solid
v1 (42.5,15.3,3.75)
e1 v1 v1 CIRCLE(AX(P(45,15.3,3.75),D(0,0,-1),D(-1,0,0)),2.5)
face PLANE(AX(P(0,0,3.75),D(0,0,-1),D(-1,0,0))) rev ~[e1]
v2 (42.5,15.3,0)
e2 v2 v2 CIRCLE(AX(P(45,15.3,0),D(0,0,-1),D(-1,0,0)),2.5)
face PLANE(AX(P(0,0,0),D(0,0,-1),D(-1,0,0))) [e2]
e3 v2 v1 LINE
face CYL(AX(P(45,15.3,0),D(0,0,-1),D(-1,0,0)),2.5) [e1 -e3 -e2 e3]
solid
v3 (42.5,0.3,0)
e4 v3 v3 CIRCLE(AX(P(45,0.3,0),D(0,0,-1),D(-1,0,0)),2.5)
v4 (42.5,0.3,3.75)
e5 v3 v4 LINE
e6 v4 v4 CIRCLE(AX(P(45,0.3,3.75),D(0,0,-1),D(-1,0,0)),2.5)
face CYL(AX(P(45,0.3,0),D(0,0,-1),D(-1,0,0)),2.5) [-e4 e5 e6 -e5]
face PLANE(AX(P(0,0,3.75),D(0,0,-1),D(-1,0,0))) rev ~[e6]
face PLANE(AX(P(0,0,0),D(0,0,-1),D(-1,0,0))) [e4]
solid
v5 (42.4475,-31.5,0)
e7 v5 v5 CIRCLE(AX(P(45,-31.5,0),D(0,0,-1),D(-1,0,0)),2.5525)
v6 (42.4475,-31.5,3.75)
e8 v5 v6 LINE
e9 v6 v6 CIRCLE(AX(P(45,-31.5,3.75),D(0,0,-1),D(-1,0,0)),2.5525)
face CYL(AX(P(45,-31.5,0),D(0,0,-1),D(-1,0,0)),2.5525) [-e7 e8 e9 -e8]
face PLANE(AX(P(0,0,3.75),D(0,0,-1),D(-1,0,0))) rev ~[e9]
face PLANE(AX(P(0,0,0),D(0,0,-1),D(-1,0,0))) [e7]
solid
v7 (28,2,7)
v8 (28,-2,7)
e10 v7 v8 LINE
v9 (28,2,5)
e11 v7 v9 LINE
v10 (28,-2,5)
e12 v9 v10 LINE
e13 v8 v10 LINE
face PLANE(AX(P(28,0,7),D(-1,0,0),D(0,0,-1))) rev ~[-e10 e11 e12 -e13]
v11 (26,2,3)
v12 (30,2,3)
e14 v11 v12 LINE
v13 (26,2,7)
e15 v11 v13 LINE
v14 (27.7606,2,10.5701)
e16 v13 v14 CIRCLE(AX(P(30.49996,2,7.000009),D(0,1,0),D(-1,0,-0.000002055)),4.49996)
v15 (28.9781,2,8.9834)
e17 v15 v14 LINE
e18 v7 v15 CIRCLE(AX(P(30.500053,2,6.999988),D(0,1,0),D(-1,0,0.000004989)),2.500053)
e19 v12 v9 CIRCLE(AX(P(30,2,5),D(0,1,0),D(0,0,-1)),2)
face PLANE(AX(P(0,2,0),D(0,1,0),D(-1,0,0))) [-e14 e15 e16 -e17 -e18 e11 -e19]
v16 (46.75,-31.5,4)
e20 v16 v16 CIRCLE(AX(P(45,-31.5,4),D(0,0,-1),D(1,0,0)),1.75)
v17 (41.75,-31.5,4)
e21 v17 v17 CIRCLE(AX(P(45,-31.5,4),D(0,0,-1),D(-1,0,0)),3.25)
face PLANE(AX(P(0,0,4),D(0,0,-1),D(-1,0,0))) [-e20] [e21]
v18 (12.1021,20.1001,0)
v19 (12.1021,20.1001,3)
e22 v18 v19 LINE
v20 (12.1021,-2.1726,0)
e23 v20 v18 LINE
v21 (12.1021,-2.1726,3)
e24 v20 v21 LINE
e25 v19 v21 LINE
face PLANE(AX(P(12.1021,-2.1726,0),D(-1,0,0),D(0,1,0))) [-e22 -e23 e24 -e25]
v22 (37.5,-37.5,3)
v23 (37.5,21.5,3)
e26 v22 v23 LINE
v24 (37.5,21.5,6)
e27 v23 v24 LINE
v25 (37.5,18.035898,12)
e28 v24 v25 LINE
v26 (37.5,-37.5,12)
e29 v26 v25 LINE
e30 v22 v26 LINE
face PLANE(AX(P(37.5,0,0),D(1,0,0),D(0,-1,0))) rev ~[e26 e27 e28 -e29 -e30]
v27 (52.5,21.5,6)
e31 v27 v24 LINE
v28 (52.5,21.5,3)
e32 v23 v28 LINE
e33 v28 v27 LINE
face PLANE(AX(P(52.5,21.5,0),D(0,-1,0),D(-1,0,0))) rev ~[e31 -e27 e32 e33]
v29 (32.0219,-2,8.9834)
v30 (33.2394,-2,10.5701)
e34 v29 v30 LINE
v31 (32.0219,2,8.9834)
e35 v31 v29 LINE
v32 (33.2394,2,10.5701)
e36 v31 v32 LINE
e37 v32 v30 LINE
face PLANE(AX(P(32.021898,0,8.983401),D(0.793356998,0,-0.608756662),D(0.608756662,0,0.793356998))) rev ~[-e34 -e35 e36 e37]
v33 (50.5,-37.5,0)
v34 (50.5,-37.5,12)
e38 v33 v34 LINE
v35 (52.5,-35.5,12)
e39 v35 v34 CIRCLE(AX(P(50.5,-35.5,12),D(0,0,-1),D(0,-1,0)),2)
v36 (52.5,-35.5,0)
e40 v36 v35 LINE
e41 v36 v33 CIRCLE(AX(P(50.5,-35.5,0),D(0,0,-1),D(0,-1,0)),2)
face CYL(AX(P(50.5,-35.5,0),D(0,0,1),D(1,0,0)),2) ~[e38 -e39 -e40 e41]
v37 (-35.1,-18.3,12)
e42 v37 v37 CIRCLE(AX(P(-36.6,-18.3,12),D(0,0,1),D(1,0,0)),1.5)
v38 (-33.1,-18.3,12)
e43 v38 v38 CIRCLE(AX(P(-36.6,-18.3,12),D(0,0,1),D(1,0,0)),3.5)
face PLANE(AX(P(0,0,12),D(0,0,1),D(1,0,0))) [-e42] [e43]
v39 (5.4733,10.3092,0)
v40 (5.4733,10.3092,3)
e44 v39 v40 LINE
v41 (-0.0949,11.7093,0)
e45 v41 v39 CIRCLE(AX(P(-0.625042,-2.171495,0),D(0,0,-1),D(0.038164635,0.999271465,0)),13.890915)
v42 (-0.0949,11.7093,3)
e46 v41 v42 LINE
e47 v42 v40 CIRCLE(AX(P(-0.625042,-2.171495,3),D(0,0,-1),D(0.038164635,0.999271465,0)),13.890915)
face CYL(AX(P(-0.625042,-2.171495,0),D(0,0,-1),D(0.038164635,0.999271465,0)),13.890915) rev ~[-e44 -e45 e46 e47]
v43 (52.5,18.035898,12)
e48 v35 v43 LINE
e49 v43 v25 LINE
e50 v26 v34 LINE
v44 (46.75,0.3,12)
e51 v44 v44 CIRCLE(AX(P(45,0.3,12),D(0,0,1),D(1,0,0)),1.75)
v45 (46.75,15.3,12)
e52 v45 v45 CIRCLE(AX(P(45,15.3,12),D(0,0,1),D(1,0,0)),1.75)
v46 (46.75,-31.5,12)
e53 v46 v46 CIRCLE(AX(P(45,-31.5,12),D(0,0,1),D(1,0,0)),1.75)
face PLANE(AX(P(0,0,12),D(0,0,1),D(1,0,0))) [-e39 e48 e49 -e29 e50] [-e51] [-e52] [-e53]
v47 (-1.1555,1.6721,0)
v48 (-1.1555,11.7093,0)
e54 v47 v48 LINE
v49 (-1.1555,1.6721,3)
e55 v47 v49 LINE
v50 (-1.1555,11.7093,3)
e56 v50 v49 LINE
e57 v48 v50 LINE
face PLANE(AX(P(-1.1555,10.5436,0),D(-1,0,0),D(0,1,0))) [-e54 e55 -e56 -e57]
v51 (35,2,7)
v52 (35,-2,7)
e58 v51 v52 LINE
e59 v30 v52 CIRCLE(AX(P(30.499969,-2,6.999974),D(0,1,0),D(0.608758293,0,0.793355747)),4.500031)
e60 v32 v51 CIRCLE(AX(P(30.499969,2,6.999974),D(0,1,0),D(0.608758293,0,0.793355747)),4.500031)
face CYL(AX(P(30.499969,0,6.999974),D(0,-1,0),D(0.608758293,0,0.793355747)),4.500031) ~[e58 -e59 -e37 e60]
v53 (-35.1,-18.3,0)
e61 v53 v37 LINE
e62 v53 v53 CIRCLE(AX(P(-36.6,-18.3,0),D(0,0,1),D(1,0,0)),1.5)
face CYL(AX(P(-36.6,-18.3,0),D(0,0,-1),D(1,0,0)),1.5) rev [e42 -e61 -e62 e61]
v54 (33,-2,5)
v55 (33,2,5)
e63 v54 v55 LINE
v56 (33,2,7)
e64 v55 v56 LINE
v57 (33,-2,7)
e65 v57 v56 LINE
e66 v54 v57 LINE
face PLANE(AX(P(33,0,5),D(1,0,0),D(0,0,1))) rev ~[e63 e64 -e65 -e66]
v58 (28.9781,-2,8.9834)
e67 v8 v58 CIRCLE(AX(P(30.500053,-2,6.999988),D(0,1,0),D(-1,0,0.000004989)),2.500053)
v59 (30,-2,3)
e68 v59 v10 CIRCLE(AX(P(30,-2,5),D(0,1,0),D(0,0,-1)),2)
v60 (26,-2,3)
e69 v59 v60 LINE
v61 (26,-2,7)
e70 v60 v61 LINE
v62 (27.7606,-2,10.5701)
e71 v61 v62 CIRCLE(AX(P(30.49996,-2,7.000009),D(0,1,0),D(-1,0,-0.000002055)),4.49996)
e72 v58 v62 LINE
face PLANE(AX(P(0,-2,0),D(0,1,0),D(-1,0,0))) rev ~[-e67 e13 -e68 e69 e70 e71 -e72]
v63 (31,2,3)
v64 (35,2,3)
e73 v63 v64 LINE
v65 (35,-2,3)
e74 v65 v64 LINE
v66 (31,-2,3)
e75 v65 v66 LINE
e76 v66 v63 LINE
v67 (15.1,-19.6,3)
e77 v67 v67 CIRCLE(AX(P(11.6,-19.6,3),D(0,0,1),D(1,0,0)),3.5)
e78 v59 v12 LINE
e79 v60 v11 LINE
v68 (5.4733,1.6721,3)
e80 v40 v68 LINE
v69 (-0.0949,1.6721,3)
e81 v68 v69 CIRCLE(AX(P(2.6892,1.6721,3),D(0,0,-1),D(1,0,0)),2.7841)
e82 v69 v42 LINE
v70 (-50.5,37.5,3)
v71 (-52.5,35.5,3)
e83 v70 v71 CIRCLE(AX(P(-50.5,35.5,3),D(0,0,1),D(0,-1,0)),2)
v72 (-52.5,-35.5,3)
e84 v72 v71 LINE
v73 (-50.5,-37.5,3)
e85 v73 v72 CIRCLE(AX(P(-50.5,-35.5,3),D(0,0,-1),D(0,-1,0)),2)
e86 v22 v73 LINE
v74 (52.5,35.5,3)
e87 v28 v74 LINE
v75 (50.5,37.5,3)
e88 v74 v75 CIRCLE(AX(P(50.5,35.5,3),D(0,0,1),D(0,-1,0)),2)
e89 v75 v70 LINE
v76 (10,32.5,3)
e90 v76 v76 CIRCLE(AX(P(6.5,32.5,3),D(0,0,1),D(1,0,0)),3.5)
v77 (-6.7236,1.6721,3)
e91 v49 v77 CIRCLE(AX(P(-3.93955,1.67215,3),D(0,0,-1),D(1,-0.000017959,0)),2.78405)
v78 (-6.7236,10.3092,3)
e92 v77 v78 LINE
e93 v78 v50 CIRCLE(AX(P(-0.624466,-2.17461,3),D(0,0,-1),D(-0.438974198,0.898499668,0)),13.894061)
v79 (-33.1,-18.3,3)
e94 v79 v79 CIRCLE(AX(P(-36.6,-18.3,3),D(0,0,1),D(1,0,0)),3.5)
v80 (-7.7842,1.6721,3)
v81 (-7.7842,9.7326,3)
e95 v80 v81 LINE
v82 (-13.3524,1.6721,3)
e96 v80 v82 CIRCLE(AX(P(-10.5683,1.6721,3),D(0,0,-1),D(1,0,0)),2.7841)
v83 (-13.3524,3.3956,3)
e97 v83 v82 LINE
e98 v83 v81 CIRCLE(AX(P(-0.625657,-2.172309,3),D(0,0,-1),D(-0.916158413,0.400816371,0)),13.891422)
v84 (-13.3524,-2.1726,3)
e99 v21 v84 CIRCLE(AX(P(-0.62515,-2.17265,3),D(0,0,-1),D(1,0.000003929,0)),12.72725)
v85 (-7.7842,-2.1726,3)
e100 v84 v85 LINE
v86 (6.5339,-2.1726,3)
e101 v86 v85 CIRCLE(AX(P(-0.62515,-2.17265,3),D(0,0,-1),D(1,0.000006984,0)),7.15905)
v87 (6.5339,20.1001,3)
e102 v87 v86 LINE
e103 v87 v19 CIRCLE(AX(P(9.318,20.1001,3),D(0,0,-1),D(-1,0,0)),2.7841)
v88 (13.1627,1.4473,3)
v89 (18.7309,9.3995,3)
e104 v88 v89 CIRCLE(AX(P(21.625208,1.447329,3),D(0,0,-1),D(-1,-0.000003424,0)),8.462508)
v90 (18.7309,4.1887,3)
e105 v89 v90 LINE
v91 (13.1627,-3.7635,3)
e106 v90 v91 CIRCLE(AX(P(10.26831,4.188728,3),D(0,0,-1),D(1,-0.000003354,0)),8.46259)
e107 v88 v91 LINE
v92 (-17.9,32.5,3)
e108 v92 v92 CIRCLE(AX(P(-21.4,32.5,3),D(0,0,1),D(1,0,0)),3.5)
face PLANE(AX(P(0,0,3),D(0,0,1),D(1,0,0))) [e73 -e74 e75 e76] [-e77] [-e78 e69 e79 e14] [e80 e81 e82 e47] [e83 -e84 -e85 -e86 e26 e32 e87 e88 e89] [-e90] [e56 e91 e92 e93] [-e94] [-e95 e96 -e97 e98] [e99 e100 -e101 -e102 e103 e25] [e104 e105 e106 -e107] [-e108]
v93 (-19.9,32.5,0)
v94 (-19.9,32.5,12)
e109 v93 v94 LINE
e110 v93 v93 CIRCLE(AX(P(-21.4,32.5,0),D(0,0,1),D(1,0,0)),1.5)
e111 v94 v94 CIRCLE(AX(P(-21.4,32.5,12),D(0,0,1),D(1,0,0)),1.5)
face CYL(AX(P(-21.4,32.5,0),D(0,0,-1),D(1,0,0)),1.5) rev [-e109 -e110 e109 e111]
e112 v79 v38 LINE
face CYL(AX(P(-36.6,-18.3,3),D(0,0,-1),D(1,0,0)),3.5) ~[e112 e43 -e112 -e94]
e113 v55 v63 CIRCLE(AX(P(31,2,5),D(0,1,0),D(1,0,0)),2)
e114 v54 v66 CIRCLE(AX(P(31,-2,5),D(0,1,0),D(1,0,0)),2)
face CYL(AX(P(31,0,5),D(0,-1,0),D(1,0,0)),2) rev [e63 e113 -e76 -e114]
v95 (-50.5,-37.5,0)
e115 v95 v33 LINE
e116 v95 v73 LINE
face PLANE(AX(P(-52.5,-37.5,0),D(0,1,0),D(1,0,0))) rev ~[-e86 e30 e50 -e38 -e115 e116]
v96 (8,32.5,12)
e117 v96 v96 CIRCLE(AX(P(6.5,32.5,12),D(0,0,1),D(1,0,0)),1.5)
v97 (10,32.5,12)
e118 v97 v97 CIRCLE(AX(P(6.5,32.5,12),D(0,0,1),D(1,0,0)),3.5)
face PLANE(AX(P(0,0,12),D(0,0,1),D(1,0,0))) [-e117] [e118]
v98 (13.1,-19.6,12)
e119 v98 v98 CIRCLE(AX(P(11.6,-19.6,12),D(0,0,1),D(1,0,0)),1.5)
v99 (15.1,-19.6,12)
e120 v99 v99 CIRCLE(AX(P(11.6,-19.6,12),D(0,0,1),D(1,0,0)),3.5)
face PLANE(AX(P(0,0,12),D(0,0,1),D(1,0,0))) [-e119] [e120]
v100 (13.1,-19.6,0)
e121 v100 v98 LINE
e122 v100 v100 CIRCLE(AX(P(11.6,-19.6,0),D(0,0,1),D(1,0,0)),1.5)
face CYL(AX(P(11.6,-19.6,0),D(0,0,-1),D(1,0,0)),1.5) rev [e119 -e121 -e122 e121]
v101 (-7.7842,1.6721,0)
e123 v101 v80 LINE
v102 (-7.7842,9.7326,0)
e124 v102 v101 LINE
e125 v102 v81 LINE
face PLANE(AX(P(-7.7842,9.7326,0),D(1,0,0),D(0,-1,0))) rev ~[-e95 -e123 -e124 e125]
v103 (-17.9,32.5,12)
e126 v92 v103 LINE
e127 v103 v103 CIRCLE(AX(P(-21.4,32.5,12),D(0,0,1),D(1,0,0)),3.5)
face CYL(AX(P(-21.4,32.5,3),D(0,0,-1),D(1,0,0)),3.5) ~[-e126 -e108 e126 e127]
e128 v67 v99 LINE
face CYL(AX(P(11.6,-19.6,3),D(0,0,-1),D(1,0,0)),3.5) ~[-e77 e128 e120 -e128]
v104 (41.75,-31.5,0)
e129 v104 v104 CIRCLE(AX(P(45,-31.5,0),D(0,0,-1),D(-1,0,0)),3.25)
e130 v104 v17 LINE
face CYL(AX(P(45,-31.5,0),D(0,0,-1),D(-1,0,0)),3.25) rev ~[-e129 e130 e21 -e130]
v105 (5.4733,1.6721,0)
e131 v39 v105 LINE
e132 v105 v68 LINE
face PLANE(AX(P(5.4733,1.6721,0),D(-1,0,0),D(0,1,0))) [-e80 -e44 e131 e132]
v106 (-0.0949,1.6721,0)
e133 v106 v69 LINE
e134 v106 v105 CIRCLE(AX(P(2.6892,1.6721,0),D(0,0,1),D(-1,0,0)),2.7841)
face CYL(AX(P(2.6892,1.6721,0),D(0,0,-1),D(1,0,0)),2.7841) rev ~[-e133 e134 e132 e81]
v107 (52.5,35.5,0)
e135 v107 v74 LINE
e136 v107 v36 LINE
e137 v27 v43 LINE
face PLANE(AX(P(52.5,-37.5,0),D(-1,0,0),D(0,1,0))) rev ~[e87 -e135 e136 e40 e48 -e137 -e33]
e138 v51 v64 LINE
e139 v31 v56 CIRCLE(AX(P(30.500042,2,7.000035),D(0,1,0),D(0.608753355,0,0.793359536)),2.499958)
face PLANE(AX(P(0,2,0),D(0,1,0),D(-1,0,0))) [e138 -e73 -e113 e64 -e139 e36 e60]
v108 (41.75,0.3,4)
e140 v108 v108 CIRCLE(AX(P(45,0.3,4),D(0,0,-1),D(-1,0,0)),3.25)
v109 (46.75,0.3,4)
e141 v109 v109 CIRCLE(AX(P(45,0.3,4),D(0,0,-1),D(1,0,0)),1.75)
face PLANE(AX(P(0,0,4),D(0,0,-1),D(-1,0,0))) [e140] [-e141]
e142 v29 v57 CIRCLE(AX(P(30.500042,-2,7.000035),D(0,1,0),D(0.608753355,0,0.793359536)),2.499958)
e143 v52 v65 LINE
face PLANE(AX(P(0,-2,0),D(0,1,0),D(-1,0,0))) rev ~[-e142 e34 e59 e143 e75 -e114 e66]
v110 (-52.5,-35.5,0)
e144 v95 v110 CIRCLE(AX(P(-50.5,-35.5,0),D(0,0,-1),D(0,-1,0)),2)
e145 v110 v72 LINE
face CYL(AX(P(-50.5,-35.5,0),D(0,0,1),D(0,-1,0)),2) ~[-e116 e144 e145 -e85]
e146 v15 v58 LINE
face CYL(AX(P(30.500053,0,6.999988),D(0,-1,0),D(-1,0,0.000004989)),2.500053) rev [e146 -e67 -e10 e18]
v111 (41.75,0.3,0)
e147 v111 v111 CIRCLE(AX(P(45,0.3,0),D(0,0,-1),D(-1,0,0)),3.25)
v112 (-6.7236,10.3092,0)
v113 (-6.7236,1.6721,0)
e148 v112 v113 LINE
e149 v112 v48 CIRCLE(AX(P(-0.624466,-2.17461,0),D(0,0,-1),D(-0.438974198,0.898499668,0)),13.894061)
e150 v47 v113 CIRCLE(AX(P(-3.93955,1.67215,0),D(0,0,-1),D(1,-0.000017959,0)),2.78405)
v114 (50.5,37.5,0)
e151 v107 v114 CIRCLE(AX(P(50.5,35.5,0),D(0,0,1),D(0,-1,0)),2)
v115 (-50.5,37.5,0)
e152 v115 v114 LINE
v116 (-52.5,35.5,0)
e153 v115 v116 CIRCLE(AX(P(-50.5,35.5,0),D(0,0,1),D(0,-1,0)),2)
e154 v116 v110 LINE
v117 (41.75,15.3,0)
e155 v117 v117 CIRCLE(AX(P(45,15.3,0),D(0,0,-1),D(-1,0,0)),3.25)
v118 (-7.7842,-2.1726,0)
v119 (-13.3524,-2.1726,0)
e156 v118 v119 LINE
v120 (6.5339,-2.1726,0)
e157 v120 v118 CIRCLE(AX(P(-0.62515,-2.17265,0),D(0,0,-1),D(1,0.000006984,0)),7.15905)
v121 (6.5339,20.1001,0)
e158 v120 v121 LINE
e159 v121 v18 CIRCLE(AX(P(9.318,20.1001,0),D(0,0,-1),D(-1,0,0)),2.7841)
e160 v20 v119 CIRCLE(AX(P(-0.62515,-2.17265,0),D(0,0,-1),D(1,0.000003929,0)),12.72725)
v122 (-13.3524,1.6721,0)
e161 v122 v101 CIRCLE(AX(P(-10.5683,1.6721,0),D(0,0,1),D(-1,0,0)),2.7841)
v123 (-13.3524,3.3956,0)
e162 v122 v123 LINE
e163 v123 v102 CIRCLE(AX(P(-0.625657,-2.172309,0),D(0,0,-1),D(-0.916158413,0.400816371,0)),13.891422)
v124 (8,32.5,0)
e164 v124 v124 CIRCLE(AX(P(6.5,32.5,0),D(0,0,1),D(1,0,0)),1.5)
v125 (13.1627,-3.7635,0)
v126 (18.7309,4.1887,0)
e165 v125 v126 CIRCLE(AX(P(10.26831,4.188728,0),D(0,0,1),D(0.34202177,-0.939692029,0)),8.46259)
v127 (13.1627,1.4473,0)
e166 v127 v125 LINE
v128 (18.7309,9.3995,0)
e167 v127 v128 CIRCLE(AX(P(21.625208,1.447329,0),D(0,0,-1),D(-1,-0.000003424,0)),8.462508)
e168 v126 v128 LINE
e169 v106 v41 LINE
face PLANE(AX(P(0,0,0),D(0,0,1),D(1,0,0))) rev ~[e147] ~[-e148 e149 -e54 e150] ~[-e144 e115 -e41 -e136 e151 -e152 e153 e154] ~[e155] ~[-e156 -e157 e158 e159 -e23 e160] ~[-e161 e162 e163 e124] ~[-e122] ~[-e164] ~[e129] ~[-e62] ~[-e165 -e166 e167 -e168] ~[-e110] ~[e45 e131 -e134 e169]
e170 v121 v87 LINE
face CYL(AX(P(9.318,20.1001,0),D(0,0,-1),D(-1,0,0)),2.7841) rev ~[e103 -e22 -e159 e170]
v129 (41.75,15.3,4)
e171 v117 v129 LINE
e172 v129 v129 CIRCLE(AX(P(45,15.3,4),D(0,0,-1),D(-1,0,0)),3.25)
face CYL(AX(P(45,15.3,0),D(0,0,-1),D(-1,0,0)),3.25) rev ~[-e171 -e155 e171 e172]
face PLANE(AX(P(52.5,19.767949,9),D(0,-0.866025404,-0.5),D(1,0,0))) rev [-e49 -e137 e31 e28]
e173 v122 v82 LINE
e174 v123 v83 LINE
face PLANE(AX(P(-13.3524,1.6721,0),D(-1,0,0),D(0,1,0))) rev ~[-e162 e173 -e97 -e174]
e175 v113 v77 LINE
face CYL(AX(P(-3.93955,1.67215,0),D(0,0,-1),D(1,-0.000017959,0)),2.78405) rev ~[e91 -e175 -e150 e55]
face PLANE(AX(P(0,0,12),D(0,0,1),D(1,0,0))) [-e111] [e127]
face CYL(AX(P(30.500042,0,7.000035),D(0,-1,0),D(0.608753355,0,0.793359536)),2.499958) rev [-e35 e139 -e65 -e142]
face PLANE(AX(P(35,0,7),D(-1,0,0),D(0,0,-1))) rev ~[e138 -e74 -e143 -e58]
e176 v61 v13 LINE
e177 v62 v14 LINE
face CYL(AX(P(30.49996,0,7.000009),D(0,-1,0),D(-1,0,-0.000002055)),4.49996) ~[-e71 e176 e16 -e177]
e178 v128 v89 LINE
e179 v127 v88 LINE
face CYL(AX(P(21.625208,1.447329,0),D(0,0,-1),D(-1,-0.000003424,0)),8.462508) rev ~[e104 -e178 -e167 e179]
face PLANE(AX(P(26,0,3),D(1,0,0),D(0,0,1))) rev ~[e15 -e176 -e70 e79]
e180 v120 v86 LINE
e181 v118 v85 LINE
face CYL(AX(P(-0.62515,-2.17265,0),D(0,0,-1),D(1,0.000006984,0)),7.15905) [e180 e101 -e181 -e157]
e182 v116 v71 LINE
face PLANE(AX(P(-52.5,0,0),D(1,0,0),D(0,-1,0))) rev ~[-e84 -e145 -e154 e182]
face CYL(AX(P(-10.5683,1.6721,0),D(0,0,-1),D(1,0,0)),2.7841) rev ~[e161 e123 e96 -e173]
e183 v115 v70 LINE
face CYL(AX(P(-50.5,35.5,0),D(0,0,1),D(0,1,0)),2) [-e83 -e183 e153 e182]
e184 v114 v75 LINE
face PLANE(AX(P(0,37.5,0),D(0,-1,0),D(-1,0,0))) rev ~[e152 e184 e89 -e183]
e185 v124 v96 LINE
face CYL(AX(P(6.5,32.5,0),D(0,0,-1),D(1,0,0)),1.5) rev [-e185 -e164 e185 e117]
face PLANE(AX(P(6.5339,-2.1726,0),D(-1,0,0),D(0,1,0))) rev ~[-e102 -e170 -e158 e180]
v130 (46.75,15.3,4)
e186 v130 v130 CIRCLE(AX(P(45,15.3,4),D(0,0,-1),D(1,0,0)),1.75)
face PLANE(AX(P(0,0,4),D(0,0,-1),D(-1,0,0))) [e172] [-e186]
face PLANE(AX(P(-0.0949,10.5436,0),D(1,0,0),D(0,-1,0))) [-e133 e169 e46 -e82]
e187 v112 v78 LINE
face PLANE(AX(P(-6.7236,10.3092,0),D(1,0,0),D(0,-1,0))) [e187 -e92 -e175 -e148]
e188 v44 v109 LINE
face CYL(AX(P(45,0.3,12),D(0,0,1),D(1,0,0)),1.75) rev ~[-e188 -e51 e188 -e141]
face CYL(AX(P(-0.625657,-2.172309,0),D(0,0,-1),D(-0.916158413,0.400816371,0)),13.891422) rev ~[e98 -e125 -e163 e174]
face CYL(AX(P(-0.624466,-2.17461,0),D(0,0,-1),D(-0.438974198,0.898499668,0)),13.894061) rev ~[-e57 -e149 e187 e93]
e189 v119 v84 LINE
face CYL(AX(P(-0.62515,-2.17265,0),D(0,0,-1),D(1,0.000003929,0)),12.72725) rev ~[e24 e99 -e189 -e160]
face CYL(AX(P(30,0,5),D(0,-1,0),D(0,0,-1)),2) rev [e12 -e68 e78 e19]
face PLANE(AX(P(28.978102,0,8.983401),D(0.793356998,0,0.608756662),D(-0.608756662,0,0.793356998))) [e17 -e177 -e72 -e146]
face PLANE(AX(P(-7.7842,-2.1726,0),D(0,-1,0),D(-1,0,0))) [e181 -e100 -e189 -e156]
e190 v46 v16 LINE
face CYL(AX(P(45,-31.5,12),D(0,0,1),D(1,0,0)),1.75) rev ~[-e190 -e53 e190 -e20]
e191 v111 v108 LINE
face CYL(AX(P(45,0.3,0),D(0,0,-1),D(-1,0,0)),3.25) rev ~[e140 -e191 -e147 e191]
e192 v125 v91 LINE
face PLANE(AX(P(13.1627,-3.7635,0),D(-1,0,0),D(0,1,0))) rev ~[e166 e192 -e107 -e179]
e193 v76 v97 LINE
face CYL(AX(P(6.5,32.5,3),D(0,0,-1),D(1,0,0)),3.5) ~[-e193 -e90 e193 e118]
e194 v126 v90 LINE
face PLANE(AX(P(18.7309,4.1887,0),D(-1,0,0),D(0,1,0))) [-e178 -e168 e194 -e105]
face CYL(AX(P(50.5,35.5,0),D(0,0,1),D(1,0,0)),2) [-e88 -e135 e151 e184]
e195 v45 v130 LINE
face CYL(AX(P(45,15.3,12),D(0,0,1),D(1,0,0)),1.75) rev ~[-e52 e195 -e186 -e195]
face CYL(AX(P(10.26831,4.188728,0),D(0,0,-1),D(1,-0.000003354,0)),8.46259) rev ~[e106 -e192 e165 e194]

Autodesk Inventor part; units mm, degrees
ref_plane "YZ Plane" through (0, 0, 0) normal (1, 0, 0) x (0, 1, 0)
ref_plane "XZ Plane" through (0, 0, 0) normal (0, 1, 0) x (-1, 0, 0)
ref_plane "XY Plane" through (0, 0, 0) normal (0, 0, 1) x (1, 0, 0)
sketch "sk_baseplate" plane through (0, 0, 0) normal (0, 0, 1) x (1, 0, 0)
  line L0 (0, -52.5) -> (0, 52.5) projected
  line L1 (-73.5, 0) -> (73.5, 0) projected
  line L2 (-52.5, -37.5) -> (52.5, -37.5)
  line L3 (52.5, -37.5) -> (52.5, 37.5)
  line L4 (52.5, 37.5) -> (-52.5, 37.5)
  line L5 (-52.5, 37.5) -> (-52.5, -37.5)
  line L6 (-52.5, -37.5) -> (52.5, 37.5) construction
  line L7 (52.5, -37.5) -> (-52.5, 37.5) construction
  line L8 (-12.5, 37.5) -> (-12.5, -37.5) construction
  line L9 (45, 37.5) -> (45, -37.5) construction
  line L10 (-36.6, -19.6) -> (11.6, -19.6) construction
  line L11 (11.6, -19.6) -> (11.6, 32.5) construction
  line L12 (11.6, 32.5) -> (6.5, 32.5) construction
  line L13 (6.5, 32.5) -> (-21.4, 32.5) construction
  line L14 (-21.4, 32.5) -> (-36.6, 32.5) construction
  line L15 (-36.6, 32.5) -> (-36.6, -19.6) construction
  circle A0 centre (11.6, -19.6) radius 1.5
  circle A1 centre (6.5, 32.5) radius 1.5
  circle A2 centre (-21.4, 32.5) radius 1.5
  line L16 (11.6, -18.3) -> (-36.6, -18.3) construction
  circle A3 centre (-36.6, -18.3) radius 1.5
  line L17 (37.5, -37.5) -> (52.5, -37.5)
  line L18 (52.5, -37.5) -> (52.5, 21.5)
  line L19 (52.5, 21.5) -> (37.5, 21.5)
  line L20 (37.5, 21.5) -> (37.5, -37.5)
  line L21 (37.5, -37.5) -> (52.5, 21.5) construction
  line L22 (52.5, -37.5) -> (37.5, 21.5) construction
  line L23 (27.5, -37.5) -> (27.5, 37.5) construction
  point P0 (0, 0)
  point P1 (-12.5, -19.6)
  point P2 (45, -8)
  dimension "d0" = 105
  dimension "d1" = 75
  dimension "d2" = 40
  dimension "d3" = 7.5
  dimension "d4" = 48.2
  dimension "d5" = 1.3
  dimension "d6" = 50.8
  dimension "d7" = 3
  dimension "d8" = 5
  dimension "d9" = 5.1
  dimension "d10" = 27.9
  dimension "d11" = 15
  dimension "d12" = 40
  dimension "d13" = 59
extrude "ext_base" add sketch "sk_baseplate" along normal blind 3
extrude "ext_fingerholder" add sketch "sk_baseplate" along normal blind 12 contours L20 L1 L3 L2 | L20 L19 L3 L1
chamfer "Chamfer1" distance 6 angle 30 1 edges at (45, 21.5, 12) measured on face at (42.5, 21.5, 6)
sketch "Sketch2" plane through (0, 0, 3) normal (0, 0, 1) x (1, 0, 0)
  circle A0 centre (-36.6, -18.3) radius 1.5 projected
  circle A1 centre (-21.4, 32.5) radius 1.5 projected
  circle A2 centre (6.5, 32.5) radius 1.5 projected
  circle A3 centre (11.6, -19.6) radius 1.5 projected
  circle A4 centre (-21.4, 32.5) radius 3.5
  circle A5 centre (6.5, 32.5) radius 3.5
  circle A6 centre (11.6, -19.6) radius 3.5
  circle A7 centre (-36.6, -18.3) radius 3.5
  point P0 (0, 0)
  dimension "d21" = 2
extrude "ext_pegs" add sketch "Sketch2" along normal blind 9
sketch "Sketch3" plane through (0, 0, 12) normal (0, 0, 1) x (1, 0, 0)
  line L0 (37.5, 18.0359) -> (52.5, 18.0359) projected
  line L1 (37.5, -37.5) -> (52.5, -37.5) projected
  line L2 (45, -37.5) -> (45, 18.0359) construction
  circle A0 centre (45, -31.5) radius 1.75
  circle A1 centre (45, 0.3) radius 1.75
  circle A2 centre (45, 15.3) radius 1.75
  point P0 (0, 0)
  dimension "d24" = 3.5
  dimension "d25" = 6
  dimension "d26" = 31.8
  dimension "d27" = 15
extrude "ext_mountholes" cut sketch "Sketch3" against normal through all
sketch "Sketch4" plane through (0, 0, 0) normal (0, 0, -1) x (-1, 0, 0)
  line L0 (0, -12.75) -> (0, 20.5)
  line L1 (-27.7979, -2.1726) -> (15.0178, -2.1726)
  circle A0 centre (0.6252, -2.1726) radius 7.1591 construction
  circle A1 centre (0.6252, -2.1726) radius 12.7273 construction
  line L2 (-12.1021, -2.1726) -> (-12.1021, 20.1001)
  line L3 (-6.5339, -2.1726) -> (-6.5339, 20.1001)
  arc A2 (-6.5339, 20.1001) -> (-12.1021, 20.1001) centre (-9.318, 20.1001) ccw
  line L4 (0.6252, -2.1726) -> (13.3524, -2.1726) construction
  arc A3 (-6.5339, -2.1726) -> (7.7842, -2.1726) centre (0.6252, -2.1726) ccw
  arc A4 (-12.1021, -2.1726) -> (13.3524, -2.1726) centre (0.6252, -2.1726) ccw
  line L5 (7.7842, -2.1726) -> (13.3524, -2.1726)
  line L6 (-4.4628, -13.8648) -> (-22.6731, -7.2369) construction
  line L7 (-13.1627, -3.7635) -> (-13.1627, 7.3728) construction
  line L8 (-13.1627, 7.3728) -> (-18.7309, 9.3995) construction
  line L9 (-18.7309, 9.3995) -> (-18.7309, -1.7369) construction
  line L10 (-18.7309, -1.7369) -> (-13.1627, -3.7635) construction
  arc A5 (-18.7309, 4.1887) -> (-13.1627, -3.7635) centre (-10.2684, 4.1887) ccw
  arc A6 (-13.1627, 1.4473) -> (-18.7309, 9.3995) centre (-21.6253, 1.4473) ccw
  line L11 (-18.7309, 4.1887) -> (-18.7309, 9.3995)
  line L12 (-13.1627, -3.7635) -> (-13.1627, 1.4473)
  line L13 (13.3524, 11.7194) -> (-6.5339, 11.7194) construction
  line L14 (-5.4733, 11.7194) -> (0.0949, 11.7194)
  line L15 (0.0949, 11.7194) -> (0.0949, -1.112)
  line L16 (0.0949, -1.112) -> (-5.4733, -1.112)
  line L17 (-5.4733, -1.112) -> (-5.4733, 11.7194)
  line L18 (1.1555, 11.7194) -> (6.7236, 11.7194)
  line L19 (6.7236, 11.7194) -> (6.7236, -1.112)
  line L20 (6.7236, -1.112) -> (1.1555, -1.112)
  line L21 (1.1555, -1.112) -> (1.1555, 11.7194)
  line L22 (13.3524, 11.7194) -> (7.7842, 11.7194)
  line L23 (7.7842, 11.7194) -> (7.7842, -1.112)
  line L24 (7.7842, -1.112) -> (13.3524, -1.112)
  line L25 (13.3524, -1.112) -> (13.3524, 11.7194)
  line L26 (7.7842, 5.3037) -> (6.7236, 5.3037) construction
  line L27 (1.1555, 5.3037) -> (0.0949, 5.3037) construction
  line L28 (-5.4733, 5.3037) -> (-6.5339, 5.3037) construction
  arc A7 (6.7236, 8.9984) -> (1.1555, 10.5436) centre (0.6252, -2.1726) ccw
  arc A8 (0.0949, 10.5436) -> (-5.4733, 8.9984) centre (0.6252, -2.1726) ccw
  line L29 (-13.1627, 7.3728) -> (-12.1021, 7.3728) construction
  line L30 (7.5616, -1.112) -> (7.5616, -2.1726) construction
  arc A9 (0.0949, 11.7093) -> (-5.4733, 10.3092) centre (0.6252, -2.1726) ccw
  arc A10 (6.7236, 10.3092) -> (1.1555, 11.7093) centre (0.6252, -2.1726) ccw
  arc A11 (13.3524, 3.3956) -> (7.7842, 9.7326) centre (0.6252, -2.1726) ccw
  arc A12 (13.3524, 3.3956) -> (-6.5339, 9.7326) centre (0.6252, -2.1726) ccw construction
  arc A13 (-5.4733, 1.6721) -> (0.0949, 1.6721) centre (-2.6892, 1.6721) ccw
  arc A14 (1.1555, 1.6721) -> (6.7236, 1.6721) centre (3.9395, 1.6721) ccw
  arc A15 (7.7842, 1.6721) -> (13.3524, 1.6721) centre (10.5683, 1.6721) ccw
  line L31 (0.6252, -14.8999) -> (13.3524, -14.8999) construction
  point P0 (0, 0)
  point P1 (13.3082, -1.112)
  point P2 (7.7842, 8.3502)
  dimension "d30" = 14.3182
  dimension "d31" = 5.5682
  dimension "d32" = 22.2727
  dimension "d33" = 0
  dimension "d34" = 5.5682
  dimension "d35" = 11.1364
  dimension "d36" = 1.5909
  dimension "d37" = 160
  dimension "d38" = 5.5682
  dimension "d39" = 1.0606
  dimension "d40" = 5.5682
  dimension "d41" = 32.0833
  dimension "d42" = 35
extrude "ext_logo" cut sketch "Sketch4" against normal through all contours A3 L1 A4 | L12 A5 L1 | L1 A5 L11 A6 L12 | L1 L2 A2 L3 | A13 L17 A8 L0 | L0 A8 L15 A13 | A8 L17 A9 L0 | L0 A9 L15 A8 | A10 L19 A7 L21 | A7 L19 A14 L21 | L25 A15 L23 A11
sketch "Sketch5" plane through (0, 0, 0) normal (0, 0, -1) x (-1, 0, 0)
  circle A0 centre (-45, 0.3) radius 1.75 projected
  circle A1 centre (-45, 15.3) radius 1.75 projected
  circle A2 centre (-45, -31.5) radius 1.75 projected
  circle A3 centre (-45, 15.3) radius 3.25
  circle A4 centre (-45, 0.3) radius 3.25
  circle A5 centre (-45, -31.5) radius 3.25
  point P0 (0, 0)
  dimension "d45" = 6.5
extrude "Extrusion6" cut sketch "Sketch5" against normal blind 4
fillet "Fillet1" radius 2 4 edges at (-52.5, -37.5, 1.5) (-52.5, 37.5, 1.5) (52.5, -37.5, 6) (52.5, 37.5, 1.5)
sketch "Sketch6" plane through (0, 0, 0) normal (0, 1, 0) x (-1, 0, 0)
  line L0 (50.5, 0) -> (-50.5, 0) projected
  line L1 (-50.5, 3) -> (-52.5, 3) projected
  line L2 (-50.5, 3) -> (50.5, 3) projected
  line L3 (52.5, 3) -> (50.5, 3) projected
  line L4 (50.5, 3) -> (52.5, 3) projected
  line L5 (50.5, 3) -> (-37.5, 3) projected
  line L6 (-37.5, 3) -> (-52.5, 3) projected
  line L7 (-18.7309, 3) -> (-13.1627, 3) projected
  line L8 (-13.1627, 3) -> (-18.7309, 3) projected
  line L9 (6.7236, 3) -> (1.1555, 3) projected
  line L10 (1.1555, 3) -> (6.7236, 3) projected
  line L11 (-5.4733, 3) -> (0.0949, 3) projected
  line L12 (0.0949, 3) -> (-5.4733, 3) projected
  line L13 (-6.5339, 3) -> (-12.1021, 3) projected
  line L14 (-12.1021, 3) -> (13.3524, 3) projected
  line L15 (13.3524, 3) -> (7.7842, 3) projected
  line L16 (7.7842, 3) -> (-6.5339, 3) projected
  line L17 (13.3524, 3) -> (7.7842, 3) projected
  line L18 (7.7842, 3) -> (13.3524, 3) projected
  line L19 (-15.1, 3) -> (-8.1, 3) projected
  line L20 (17.9, 3) -> (24.9, 3) projected
  line L21 (-10, 3) -> (-3, 3) projected
  line L22 (33.1, 3) -> (40.1, 3) projected
  line L23 (-37.5, 6) -> (-37.5, 12) projected
  line L24 (-37.5, 3) -> (-37.5, 6) projected
  line L25 (-37.5, 3) -> (-37.5, 12) projected
  line L26 (-30.5, 3) -> (-30.5, 7.8227) construction
  line L27 (-28, 3) -> (-26, 3)
  line L28 (-28, 3) -> (-26, 3)
  line L29 (-26, 3) -> (-26, 7)
  line L30 (-26, 7) -> (-28, 7)
  line L31 (-28, 7) -> (-28, 3)
  line L32 (-35, 3) -> (-33, 3)
  line L33 (-33, 3) -> (-33, 7)
  line L34 (-33, 7) -> (-35, 7)
  line L35 (-35, 7) -> (-35, 3)
  arc A0 (-28, 7) -> (-33, 7) centre (-30.5, 7) ccw construction
  arc A1 (-26, 7) -> (-35, 7) centre (-30.5, 7) ccw construction
  line L36 (-30.5, 7) -> (-33.2394, 10.5701)
  line L37 (-30.5, 7) -> (-27.7606, 10.5701)
  arc A2 (-33.2394, 10.5701) -> (-35, 7) centre (-30.5, 7) ccw
  arc A3 (-32.0219, 8.9834) -> (-33, 7) centre (-30.5, 7) ccw
  arc A4 (-28, 7) -> (-28.9781, 8.9834) centre (-30.5, 7) ccw
  arc A5 (-26, 7) -> (-27.7606, 10.5701) centre (-30.5, 7) ccw
  arc A6 (-33, 5) -> (-31, 3) centre (-31, 5) ccw
  arc A7 (-30, 3) -> (-28, 5) centre (-30, 5) ccw
  line L38 (-50.5, 3) -> (50.5, 3) projected
  point P0 (0, 0)
  dimension "d49" = 7
  dimension "d53" = 4
  dimension "d54" = 2
  dimension "d55" = 5
  dimension "d56" = 75
  dimension "d59" = 2
extrude "Extrusion7" add sketch "Sketch6" along normal mid plane 4 contours L35 L34 L33 L2 | L33 A6 L2 | A2 L36 A3 L34 | A7 L31 L2 | L31 L30 L29 L2 | A4 L37 A5 L30
ref_plane "Work Plane1" through (45, 0.3, 3.75) normal (0, 0, -1) x (-1, 0, 0)
sketch "Sketch7" plane through (0, 0, 0) normal (0, 0, -1) x (-1, 0, 0)
  circle A0 centre (-45, 0.3) radius 3.25 projected
  circle A1 centre (-45, 15.3) radius 3.25 projected
  circle A2 centre (-45, -31.5) radius 3.25 projected
  circle A3 centre (-45, 15.3) radius 2.5
  circle A4 centre (-45, 0.3) radius 2.5
  circle A5 centre (-45, -31.5) radius 2.5525
  point P0 (0, 0)
  dimension "d61" = 5
extrude "PRINT_support" add sketch "Sketch7" against normal up to surface (3.75 mm away) contours A3 | A4 | A5
equation "\"d30\" = 0.409091 * d42"
equation "\"d31\" = d40"
equation "\"d32\" = 0.636364 * d42"
equation "\"d34\" = d40"
equation "\"d35\" = 0.318182 * d42"
equation "\"d36\" = 0.0454545 * d42"
equation "\"d38\" = d40"
properties part number "empty"
